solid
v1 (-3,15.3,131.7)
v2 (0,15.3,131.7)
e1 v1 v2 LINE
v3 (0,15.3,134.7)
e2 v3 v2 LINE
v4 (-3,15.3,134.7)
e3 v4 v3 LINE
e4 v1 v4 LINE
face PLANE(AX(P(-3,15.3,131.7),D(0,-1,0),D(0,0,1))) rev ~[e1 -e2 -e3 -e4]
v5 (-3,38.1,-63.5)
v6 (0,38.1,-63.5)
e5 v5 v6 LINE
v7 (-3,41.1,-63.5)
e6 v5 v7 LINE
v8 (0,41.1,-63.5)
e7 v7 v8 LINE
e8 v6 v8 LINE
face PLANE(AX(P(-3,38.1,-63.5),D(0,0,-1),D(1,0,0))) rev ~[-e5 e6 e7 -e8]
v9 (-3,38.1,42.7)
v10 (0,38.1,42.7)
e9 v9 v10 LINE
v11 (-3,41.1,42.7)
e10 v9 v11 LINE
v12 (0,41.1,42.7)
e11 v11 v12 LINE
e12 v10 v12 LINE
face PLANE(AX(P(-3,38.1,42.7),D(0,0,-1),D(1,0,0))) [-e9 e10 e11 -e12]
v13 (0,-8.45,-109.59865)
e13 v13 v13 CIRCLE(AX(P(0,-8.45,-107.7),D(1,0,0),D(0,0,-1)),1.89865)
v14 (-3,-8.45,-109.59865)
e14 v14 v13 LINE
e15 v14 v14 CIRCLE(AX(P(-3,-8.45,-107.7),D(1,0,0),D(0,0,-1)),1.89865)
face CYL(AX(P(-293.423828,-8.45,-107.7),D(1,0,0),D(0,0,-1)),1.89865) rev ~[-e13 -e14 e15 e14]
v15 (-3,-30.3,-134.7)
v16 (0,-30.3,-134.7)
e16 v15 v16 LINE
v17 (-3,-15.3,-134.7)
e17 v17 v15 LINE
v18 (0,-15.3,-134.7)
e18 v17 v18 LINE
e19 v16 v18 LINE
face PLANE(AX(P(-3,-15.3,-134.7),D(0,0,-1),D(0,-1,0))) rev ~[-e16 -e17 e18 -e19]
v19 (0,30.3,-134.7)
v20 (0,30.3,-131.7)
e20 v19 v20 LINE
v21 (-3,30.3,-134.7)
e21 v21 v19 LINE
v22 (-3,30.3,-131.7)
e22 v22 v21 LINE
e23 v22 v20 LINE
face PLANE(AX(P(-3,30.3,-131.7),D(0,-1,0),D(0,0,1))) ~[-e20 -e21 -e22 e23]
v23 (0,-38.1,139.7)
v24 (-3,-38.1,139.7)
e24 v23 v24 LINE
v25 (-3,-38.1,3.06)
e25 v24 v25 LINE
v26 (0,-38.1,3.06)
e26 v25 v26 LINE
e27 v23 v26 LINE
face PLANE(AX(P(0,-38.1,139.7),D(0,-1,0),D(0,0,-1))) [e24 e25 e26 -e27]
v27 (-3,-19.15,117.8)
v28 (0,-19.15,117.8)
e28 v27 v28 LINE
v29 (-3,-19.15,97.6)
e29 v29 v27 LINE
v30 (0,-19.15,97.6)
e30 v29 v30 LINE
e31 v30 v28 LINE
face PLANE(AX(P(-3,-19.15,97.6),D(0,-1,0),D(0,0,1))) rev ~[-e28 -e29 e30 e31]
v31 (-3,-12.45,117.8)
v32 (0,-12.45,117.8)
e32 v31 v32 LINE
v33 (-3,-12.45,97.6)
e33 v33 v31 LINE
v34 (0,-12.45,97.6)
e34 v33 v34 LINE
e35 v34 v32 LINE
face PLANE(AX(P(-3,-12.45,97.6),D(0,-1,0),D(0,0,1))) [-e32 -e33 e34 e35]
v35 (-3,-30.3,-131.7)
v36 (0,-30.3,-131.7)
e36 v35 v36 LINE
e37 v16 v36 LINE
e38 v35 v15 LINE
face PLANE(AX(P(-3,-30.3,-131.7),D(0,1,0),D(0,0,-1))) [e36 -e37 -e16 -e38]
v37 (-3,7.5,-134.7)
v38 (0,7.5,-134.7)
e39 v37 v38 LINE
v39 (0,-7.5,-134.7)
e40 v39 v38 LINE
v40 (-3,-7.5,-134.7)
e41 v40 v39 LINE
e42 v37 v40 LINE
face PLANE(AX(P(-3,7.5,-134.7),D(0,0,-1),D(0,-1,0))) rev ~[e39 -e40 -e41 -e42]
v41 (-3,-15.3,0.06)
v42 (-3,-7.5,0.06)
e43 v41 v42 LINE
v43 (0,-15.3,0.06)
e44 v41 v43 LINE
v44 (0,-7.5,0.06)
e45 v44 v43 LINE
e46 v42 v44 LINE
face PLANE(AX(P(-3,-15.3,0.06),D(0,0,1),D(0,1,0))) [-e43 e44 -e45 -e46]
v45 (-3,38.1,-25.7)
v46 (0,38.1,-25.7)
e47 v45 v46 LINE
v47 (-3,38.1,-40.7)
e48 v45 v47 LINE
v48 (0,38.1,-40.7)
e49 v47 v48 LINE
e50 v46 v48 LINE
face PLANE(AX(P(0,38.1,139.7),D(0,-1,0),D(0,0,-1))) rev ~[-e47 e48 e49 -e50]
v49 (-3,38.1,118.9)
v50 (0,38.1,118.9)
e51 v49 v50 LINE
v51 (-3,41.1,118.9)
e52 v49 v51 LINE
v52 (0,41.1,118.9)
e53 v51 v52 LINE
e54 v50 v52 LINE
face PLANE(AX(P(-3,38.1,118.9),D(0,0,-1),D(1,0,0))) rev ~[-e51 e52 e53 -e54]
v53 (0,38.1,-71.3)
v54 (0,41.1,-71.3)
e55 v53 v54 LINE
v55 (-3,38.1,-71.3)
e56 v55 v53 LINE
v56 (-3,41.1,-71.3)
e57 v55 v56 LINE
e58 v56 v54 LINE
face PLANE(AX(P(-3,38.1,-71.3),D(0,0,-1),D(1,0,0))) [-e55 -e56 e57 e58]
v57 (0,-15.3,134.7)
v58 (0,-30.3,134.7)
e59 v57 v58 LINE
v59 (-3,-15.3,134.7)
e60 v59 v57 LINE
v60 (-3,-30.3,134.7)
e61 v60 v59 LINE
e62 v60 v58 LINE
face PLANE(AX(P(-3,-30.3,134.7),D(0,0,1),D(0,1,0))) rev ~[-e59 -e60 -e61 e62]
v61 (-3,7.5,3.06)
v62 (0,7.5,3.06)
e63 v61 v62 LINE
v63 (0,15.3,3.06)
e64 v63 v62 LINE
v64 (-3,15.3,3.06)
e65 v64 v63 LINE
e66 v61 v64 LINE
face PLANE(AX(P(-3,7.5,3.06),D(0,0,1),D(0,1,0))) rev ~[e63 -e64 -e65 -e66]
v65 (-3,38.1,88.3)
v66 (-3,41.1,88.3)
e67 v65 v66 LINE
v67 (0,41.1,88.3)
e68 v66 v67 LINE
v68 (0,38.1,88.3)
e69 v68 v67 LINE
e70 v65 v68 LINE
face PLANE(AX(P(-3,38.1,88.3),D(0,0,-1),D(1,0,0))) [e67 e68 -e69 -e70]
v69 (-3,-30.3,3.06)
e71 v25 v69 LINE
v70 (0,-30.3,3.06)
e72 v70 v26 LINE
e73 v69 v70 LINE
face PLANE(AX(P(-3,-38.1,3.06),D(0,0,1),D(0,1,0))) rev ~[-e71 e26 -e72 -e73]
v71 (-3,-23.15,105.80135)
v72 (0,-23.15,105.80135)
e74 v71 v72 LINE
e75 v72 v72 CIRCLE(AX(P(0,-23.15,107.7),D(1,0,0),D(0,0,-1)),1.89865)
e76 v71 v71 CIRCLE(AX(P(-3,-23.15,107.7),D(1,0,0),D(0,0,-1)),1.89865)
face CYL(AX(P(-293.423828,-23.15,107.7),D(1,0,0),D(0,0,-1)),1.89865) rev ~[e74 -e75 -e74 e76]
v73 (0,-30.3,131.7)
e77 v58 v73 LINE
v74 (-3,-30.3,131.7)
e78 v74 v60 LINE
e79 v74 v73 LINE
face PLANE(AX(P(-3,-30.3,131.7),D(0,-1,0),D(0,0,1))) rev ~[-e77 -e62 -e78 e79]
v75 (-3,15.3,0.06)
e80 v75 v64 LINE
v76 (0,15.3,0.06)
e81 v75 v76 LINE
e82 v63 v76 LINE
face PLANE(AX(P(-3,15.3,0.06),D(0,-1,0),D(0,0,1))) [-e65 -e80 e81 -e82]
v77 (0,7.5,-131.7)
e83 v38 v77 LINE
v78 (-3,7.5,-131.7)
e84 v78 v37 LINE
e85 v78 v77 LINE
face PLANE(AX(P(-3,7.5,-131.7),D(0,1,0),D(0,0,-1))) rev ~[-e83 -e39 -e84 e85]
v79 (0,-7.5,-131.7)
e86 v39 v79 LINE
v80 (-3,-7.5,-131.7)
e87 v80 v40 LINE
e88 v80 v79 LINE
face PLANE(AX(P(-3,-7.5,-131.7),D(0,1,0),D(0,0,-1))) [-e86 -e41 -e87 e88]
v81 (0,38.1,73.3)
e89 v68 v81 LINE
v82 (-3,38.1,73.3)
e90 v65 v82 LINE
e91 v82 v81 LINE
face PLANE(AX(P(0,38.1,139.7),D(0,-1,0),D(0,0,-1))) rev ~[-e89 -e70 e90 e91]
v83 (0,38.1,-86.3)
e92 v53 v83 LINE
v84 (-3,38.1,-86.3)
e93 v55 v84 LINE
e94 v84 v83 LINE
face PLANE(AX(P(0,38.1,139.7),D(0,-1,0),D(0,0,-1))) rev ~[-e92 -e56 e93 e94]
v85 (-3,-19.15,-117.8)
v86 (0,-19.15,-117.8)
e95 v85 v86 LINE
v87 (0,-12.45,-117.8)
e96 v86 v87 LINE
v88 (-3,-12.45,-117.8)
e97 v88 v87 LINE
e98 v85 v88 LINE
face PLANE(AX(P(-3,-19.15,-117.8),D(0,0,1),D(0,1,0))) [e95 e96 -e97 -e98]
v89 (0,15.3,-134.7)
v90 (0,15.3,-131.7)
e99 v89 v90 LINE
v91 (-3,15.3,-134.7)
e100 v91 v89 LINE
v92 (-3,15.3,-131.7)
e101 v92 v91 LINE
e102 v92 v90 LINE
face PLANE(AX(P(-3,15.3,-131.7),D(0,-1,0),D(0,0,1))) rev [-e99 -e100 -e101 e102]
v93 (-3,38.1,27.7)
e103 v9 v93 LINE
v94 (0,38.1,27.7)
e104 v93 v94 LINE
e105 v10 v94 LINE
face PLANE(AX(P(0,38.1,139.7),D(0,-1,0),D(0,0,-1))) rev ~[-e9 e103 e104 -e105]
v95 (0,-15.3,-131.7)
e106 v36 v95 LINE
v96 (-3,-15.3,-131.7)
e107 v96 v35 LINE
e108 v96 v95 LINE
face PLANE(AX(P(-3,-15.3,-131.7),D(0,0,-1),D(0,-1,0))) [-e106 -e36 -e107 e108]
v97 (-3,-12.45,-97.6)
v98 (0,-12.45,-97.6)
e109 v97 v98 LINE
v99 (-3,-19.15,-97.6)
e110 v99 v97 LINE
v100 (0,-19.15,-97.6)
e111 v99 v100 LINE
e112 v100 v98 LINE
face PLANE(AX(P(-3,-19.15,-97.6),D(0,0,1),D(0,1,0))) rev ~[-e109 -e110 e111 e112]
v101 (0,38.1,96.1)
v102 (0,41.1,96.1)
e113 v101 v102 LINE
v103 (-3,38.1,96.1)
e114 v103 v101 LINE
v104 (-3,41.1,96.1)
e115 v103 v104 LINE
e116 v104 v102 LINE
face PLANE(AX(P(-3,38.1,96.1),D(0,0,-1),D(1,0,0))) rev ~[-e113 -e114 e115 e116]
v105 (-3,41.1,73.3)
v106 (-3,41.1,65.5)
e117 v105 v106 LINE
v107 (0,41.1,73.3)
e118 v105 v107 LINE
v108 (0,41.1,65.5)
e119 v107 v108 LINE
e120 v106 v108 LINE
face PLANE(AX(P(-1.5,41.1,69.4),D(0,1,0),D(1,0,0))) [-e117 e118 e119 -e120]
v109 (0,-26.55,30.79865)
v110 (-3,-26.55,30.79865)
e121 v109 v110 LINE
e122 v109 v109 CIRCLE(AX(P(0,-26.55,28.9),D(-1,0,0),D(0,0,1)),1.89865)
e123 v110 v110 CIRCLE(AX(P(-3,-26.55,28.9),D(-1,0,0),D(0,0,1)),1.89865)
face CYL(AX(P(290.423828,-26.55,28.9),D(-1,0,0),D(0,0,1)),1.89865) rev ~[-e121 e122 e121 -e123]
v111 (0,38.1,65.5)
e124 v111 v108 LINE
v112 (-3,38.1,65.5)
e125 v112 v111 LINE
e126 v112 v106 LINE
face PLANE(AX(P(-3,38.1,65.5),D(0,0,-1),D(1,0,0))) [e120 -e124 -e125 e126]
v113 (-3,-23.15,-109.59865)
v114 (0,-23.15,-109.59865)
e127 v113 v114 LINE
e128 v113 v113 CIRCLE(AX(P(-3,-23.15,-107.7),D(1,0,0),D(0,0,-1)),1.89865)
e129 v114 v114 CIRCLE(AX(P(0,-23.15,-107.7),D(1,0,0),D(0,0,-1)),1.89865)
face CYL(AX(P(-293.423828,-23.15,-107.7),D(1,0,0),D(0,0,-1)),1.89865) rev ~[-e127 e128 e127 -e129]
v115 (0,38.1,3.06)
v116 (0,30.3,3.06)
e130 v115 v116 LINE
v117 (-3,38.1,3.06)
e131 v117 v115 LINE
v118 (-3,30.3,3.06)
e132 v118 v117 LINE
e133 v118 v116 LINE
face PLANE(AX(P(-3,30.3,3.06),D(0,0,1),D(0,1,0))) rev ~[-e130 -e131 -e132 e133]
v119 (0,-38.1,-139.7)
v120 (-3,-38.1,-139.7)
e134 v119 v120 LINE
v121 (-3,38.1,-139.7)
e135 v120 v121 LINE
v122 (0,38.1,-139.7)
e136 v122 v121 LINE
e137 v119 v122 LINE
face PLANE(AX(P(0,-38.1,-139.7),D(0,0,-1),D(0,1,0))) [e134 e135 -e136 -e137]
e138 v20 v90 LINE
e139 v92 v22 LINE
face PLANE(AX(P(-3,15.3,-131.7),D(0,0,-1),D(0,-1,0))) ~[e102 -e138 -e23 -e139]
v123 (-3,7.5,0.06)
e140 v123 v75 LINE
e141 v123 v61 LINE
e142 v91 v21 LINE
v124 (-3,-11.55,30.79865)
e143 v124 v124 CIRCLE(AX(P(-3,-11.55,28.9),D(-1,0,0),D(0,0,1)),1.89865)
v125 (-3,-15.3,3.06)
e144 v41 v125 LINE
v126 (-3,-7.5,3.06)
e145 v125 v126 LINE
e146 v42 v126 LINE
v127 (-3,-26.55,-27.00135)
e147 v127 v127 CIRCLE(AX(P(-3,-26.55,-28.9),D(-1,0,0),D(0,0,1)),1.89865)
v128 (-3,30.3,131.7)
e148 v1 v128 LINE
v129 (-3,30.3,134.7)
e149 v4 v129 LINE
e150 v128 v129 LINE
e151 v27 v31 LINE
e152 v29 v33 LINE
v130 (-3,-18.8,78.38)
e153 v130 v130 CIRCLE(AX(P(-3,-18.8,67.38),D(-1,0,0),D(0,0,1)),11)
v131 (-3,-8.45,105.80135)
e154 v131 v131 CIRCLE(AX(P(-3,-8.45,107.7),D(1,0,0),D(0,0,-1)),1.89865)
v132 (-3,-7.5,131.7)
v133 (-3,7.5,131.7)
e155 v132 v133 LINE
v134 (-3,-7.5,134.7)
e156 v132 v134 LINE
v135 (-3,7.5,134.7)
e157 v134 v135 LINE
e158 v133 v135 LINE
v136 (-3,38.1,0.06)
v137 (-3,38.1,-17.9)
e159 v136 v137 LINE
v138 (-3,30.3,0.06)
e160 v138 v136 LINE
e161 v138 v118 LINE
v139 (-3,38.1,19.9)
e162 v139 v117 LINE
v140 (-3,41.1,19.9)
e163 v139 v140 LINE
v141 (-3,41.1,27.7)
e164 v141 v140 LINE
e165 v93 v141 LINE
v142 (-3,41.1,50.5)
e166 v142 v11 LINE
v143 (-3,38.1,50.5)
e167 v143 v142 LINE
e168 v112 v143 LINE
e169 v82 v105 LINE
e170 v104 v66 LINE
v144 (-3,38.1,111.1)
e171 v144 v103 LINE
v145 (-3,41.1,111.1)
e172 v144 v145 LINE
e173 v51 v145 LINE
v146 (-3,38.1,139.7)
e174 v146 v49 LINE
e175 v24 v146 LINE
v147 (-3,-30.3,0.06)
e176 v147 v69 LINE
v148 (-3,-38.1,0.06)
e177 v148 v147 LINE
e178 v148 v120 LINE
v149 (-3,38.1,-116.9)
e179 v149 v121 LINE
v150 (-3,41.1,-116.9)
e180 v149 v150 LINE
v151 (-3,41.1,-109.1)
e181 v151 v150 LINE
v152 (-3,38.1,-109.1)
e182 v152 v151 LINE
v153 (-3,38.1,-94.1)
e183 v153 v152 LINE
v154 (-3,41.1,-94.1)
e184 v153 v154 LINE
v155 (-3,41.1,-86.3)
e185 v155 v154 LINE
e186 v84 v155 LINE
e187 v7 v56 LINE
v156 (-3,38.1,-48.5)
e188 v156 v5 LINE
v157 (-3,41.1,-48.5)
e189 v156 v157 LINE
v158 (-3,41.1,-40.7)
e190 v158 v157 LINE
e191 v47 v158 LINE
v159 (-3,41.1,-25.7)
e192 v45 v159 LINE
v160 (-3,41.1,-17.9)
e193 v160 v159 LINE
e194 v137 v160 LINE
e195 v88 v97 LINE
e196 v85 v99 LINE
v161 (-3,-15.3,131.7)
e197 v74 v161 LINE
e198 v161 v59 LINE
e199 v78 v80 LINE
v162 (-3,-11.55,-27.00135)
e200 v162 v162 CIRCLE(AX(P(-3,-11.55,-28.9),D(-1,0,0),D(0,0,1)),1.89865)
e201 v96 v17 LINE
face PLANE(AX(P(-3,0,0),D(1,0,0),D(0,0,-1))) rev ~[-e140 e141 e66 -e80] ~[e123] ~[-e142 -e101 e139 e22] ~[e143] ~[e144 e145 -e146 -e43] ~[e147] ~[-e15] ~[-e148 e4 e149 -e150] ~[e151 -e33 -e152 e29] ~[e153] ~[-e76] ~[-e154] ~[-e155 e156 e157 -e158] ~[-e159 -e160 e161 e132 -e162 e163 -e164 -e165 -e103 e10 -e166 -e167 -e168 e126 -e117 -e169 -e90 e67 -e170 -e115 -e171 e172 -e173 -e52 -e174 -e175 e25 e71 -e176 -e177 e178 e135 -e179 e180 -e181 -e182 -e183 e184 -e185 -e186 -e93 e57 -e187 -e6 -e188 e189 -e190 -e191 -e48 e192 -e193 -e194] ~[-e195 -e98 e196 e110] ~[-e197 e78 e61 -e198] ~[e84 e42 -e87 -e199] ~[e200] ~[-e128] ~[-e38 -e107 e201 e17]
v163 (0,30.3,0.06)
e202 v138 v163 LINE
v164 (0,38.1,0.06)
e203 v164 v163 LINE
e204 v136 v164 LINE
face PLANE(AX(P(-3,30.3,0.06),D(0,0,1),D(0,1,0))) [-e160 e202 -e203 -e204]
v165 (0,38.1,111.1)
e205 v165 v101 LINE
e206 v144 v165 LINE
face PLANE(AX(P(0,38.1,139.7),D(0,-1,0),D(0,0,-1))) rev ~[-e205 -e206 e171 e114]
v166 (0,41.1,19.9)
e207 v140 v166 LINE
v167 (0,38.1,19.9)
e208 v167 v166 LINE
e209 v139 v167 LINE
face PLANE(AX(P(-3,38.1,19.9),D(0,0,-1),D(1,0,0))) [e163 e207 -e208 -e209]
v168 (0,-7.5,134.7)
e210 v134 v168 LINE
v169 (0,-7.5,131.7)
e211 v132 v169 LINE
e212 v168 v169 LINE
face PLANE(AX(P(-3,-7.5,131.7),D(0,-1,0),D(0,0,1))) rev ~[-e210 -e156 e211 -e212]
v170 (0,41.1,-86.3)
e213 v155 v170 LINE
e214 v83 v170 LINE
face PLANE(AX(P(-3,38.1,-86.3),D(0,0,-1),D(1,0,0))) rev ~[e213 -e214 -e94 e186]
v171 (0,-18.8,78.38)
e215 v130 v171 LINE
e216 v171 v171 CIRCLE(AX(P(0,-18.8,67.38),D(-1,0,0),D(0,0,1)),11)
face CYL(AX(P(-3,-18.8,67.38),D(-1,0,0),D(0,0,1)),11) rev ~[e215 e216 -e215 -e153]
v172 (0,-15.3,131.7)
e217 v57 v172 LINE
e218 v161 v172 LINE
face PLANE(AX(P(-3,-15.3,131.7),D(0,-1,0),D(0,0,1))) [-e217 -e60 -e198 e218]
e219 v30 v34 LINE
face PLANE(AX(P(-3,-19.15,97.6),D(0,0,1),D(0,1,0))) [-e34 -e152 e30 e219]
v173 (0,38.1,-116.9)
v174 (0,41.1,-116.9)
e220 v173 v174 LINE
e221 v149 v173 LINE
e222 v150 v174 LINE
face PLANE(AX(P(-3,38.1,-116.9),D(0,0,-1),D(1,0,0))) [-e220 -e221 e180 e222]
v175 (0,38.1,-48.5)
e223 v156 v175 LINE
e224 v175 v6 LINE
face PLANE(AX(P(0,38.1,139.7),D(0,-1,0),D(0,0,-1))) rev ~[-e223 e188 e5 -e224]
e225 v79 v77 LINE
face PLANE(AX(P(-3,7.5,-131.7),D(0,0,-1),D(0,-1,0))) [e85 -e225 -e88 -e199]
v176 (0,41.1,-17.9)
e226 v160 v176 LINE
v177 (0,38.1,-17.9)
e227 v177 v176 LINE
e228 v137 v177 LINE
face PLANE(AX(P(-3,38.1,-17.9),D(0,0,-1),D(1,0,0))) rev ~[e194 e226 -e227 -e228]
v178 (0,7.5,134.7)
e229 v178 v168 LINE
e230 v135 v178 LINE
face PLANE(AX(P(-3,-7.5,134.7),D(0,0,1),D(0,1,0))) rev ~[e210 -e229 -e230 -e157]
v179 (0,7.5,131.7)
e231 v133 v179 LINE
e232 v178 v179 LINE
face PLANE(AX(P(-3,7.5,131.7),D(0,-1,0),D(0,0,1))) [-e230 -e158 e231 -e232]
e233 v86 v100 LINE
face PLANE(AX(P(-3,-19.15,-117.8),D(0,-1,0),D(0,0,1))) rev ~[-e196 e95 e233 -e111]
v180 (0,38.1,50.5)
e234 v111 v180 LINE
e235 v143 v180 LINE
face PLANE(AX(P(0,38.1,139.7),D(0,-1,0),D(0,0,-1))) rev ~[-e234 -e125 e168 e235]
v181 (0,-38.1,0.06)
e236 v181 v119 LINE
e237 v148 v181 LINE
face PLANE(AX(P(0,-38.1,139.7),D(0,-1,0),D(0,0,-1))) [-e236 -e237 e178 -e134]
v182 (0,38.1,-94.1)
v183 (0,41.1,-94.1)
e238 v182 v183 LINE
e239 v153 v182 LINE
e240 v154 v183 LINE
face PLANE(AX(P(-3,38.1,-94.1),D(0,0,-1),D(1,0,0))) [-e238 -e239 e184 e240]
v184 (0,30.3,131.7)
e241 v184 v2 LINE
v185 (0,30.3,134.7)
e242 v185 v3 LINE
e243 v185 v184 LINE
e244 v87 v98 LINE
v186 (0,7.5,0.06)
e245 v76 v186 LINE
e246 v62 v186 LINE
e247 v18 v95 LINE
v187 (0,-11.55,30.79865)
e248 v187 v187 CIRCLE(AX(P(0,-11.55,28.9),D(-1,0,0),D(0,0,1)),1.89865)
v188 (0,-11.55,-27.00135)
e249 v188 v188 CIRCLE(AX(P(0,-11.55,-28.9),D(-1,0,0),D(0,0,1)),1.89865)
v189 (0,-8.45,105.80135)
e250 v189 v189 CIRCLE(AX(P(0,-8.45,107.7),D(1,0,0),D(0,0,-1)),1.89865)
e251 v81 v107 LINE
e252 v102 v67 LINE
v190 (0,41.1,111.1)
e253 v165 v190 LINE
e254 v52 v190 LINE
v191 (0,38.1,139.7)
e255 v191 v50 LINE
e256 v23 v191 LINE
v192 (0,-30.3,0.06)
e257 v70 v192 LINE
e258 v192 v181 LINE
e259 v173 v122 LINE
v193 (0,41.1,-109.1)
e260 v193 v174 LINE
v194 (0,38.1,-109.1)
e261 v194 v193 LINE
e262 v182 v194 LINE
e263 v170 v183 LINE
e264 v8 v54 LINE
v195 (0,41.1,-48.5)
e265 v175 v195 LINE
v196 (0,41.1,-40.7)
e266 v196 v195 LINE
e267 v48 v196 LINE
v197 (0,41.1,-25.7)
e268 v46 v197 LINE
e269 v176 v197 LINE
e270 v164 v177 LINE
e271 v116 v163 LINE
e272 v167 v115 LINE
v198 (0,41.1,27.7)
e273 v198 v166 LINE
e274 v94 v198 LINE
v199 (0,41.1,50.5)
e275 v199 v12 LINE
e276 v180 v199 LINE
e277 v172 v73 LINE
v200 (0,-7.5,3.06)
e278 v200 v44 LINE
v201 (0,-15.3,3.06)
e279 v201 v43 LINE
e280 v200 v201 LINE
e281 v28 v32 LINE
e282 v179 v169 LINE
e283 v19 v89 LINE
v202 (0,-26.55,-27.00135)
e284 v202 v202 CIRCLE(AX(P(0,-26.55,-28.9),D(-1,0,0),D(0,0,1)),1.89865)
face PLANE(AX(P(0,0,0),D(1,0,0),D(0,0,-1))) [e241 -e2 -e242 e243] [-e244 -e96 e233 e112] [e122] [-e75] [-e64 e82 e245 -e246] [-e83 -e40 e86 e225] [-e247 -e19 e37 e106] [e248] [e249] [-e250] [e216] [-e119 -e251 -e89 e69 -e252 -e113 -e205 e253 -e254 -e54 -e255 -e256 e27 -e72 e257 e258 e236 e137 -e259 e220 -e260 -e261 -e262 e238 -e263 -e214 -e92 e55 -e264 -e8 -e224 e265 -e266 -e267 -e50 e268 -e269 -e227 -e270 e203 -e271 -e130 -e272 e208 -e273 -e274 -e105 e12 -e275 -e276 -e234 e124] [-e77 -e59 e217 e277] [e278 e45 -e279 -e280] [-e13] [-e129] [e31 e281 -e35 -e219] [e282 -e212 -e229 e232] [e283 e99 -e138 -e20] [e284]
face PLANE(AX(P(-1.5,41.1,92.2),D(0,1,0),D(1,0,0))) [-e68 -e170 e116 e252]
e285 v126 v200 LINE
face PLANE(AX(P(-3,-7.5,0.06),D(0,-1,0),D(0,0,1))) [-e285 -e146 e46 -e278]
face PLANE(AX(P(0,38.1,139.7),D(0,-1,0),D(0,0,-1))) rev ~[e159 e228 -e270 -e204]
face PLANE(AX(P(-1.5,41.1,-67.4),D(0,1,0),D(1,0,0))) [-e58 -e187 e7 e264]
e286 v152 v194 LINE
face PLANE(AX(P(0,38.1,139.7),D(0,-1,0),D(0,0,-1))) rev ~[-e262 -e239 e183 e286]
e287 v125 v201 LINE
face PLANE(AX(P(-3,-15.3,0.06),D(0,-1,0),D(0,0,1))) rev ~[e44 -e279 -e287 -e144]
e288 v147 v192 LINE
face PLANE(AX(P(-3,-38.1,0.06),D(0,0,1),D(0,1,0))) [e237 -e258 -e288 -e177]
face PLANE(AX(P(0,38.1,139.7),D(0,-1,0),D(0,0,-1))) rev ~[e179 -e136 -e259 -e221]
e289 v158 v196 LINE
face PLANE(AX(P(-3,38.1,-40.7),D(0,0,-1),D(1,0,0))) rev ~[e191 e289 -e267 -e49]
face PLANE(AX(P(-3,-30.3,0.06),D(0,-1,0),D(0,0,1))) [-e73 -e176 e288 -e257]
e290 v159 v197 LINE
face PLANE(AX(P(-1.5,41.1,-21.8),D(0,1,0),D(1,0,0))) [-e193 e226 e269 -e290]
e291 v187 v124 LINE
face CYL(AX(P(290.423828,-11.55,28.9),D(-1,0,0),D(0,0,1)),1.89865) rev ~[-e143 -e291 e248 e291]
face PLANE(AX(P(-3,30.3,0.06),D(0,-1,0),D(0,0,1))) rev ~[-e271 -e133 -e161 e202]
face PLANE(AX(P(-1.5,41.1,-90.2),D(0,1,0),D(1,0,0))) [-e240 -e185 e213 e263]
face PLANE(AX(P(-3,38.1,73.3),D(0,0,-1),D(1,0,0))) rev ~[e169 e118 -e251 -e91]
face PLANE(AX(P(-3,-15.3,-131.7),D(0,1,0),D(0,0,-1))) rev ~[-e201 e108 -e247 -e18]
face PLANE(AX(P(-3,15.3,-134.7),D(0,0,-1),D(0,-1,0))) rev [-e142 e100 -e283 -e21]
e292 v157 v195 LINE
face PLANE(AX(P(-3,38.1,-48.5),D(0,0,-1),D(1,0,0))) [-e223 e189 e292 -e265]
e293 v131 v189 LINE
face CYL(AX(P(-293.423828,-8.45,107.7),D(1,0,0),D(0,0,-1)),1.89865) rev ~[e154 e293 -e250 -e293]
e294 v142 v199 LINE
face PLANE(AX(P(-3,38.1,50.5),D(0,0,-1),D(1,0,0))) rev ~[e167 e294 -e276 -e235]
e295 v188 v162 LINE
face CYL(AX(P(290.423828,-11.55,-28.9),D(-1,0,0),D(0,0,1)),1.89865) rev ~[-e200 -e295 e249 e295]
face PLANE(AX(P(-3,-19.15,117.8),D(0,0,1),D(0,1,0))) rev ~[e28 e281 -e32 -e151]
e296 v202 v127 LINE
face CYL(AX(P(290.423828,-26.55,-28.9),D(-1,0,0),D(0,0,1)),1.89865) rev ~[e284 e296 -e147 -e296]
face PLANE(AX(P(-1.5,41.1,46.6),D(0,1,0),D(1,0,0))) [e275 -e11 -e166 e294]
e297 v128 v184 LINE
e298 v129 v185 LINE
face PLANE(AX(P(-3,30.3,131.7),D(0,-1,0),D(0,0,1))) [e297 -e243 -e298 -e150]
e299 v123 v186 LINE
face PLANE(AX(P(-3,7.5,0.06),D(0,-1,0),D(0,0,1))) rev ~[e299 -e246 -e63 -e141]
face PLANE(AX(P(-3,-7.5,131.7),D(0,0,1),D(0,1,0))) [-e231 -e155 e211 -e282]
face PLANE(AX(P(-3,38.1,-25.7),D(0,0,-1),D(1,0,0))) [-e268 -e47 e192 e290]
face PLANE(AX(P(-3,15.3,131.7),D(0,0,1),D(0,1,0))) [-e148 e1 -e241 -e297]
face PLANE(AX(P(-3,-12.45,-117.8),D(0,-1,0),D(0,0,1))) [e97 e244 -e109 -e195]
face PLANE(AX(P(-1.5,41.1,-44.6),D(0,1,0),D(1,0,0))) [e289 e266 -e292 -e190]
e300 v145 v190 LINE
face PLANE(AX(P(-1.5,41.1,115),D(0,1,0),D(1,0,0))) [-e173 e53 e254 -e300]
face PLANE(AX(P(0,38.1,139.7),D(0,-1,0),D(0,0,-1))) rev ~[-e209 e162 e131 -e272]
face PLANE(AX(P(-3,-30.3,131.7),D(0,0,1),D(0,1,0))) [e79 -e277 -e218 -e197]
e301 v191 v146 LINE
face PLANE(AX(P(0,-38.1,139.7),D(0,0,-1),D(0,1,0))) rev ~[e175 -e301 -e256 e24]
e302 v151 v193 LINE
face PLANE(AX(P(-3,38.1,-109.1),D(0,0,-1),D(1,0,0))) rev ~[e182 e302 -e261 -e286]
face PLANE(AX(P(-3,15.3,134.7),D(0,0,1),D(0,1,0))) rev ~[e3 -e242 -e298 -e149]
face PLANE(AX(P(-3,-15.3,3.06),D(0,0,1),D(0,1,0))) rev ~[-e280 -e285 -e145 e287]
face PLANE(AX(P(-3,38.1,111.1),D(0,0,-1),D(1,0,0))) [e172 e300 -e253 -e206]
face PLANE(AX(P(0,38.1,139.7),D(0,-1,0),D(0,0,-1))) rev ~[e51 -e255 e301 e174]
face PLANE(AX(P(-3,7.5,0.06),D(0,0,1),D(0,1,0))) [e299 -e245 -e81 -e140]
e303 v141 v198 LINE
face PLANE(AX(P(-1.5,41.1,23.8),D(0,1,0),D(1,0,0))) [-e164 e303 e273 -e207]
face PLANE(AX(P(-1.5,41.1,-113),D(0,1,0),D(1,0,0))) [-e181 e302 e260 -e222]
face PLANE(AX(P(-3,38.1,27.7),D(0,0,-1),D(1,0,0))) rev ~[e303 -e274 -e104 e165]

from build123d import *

# Parameters (mm, degrees)
SKETCH1_W               = 279.4
SKETCH1_H               = 76.2
BOSS_EXTRUDE1_DEPTH     = 3
SKETCH3_W               = 3
SKETCH3_H               = 15
CUT_EXTRUDE1_DEPTH      = 145.833352512
LPATTERN1_COUNT         = 3
LPATTERN1_PITCH         = 22.8
MIRROR1_COPY_1_SKETCH_W = 3
MIRROR1_COPY_1_SKETCH_H = 15
MIRROR1_COPY_1_DEPTH    = 145.833352512
MIRROR1_COPY_2_SKETCH_W = 3
MIRROR1_COPY_2_SKETCH_H = 15
MIRROR1_COPY_2_DEPTH    = 145.833352512
SKETCH6_W               = 3
SKETCH6_H               = 7.8
CUT_EXTRUDE2_DEPTH      = 145.833352512
LPATTERN2_COUNT         = 4
LPATTERN2_PITCH         = 22.8
SKETCH8_W               = 3
SKETCH8_H               = 7.8
BOSS_EXTRUDE2_DEPTH     = 3
LPATTERN4_COUNT         = 11
LPATTERN4_PITCH         = 22.8
SKETCH9_R               = 11
CUT_EXTRUDE3_DEPTH      = 146.651295909
F_6_CLEARANCE_HOLE1_D   = 3.7973
CUT_EXTRUDE4_REACH      = 147.651
SKETCH12_W              = 20.2
SKETCH12_H              = 6.7
F_6_CLEARANCE_HOLE2_D   = 3.7973


with BuildPart() as part:
    # Sketch1 → Boss-Extrude1 (new body)
    with BuildSketch(Plane(origin=(0, 0, 0), x_dir=(0, 0, -1), z_dir=(1, 0, 0))):
        Rectangle(SKETCH1_W, SKETCH1_H)
    extrude(amount=-BOSS_EXTRUDE1_DEPTH)

    # Sketch3 → Cut-Extrude1 (cut, through all)
    with BuildSketch(Plane.ZY.offset(3)):
        with Locations((133.2, 22.8)):
            Rectangle(SKETCH3_W, SKETCH3_H)
    cut_extrude1 = extrude(amount=-CUT_EXTRUDE1_DEPTH, mode=Mode.SUBTRACT)

    # LPattern1: Cut-Extrude1 ×3
    with Locations(*[(0, -i * LPATTERN1_PITCH, 0) for i in range(1, LPATTERN1_COUNT)]):
        add(cut_extrude1, mode=Mode.SUBTRACT)

    # Mirror1: Cut-Extrude1 across plane
    add(cut_extrude1.mirror(Plane.XY), mode=Mode.SUBTRACT)

    # Mirror1 copy 1 sketch → Mirror1 copy 1 (cut, through all)
    with BuildSketch(Plane(origin=(-3, -22.8, 0), x_dir=(0, 0, -1), z_dir=(-1, 0, 0))):
        with Locations((133.2, -22.8)):
            Rectangle(MIRROR1_COPY_1_SKETCH_W, MIRROR1_COPY_1_SKETCH_H)
    extrude(amount=-MIRROR1_COPY_1_DEPTH, mode=Mode.SUBTRACT)

    # Mirror1 copy 2 sketch → Mirror1 copy 2 (cut, through all)
    with BuildSketch(Plane(origin=(-3, -45.6, 0), x_dir=(0, 0, -1), z_dir=(-1, 0, 0))):
        with Locations((133.2, -22.8)):
            Rectangle(MIRROR1_COPY_2_SKETCH_W, MIRROR1_COPY_2_SKETCH_H)
    extrude(amount=-MIRROR1_COPY_2_DEPTH, mode=Mode.SUBTRACT)

    # Sketch6 → Cut-Extrude2 (cut, through all)
    with BuildSketch(Plane.ZY.offset(3)):
        with Locations((1.56, 34.2)):
            Rectangle(SKETCH6_W, SKETCH6_H)
    cut_extrude2 = extrude(amount=-CUT_EXTRUDE2_DEPTH, mode=Mode.SUBTRACT)

    # LPattern2: Cut-Extrude2 ×4
    with Locations(*[(0, -i * LPATTERN2_PITCH, 0) for i in range(1, LPATTERN2_COUNT)]):
        add(cut_extrude2, mode=Mode.SUBTRACT)

    # Sketch8 → Boss-Extrude2 (add)
    with BuildSketch(Plane(origin=(0, 38.1, 0), x_dir=(1, 0, 0), z_dir=(0, 1, 0))):
        with Locations((-1.5, 113)):
            Rectangle(SKETCH8_W, SKETCH8_H)
    boss_extrude2 = extrude(amount=BOSS_EXTRUDE2_DEPTH)

    # LPattern4: Boss-Extrude2 ×11, 1 skipped
    with Locations(*[(0, 0, i * LPATTERN4_PITCH) for i in range(1, LPATTERN4_COUNT) if i not in (5,)]):
        add(boss_extrude2)

    # Sketch9 → Cut-Extrude3 (cut, through all)
    with BuildSketch(Plane.ZY.offset(3)):
        with Locations((67.38, -18.8)):
            Circle(SKETCH9_R)
    extrude(amount=-CUT_EXTRUDE3_DEPTH, mode=Mode.SUBTRACT)

    # #6 Clearance Hole1 (through all)
    with Locations(Plane(origin=(0, 0, 0), x_dir=(0, 0, -1), z_dir=(1, 0, 0))):
        with Locations((28.9, -26.55), (28.9, -11.55), (-28.9, -11.55), (-28.9, -26.55)):
            Hole(F_6_CLEARANCE_HOLE1_D / 2)

    # Sketch12 → Cut-Extrude4 (cut, up to next)
    with BuildSketch(Plane.ZY.offset(3), mode=Mode.PRIVATE) as cut_extrude4_sk1:
        with Locations((-107.7, -15.8)):
            Rectangle(SKETCH12_W, SKETCH12_H)
    cut_extrude4_tool1 = extrude(cut_extrude4_sk1.sketch, amount=-CUT_EXTRUDE4_REACH, mode=Mode.PRIVATE) & part.part
    # Sketch12 → Cut-Extrude4 (cut, up to next)
    with BuildSketch(Plane.ZY.offset(3), mode=Mode.PRIVATE) as cut_extrude4_sk2:
        with Locations((107.7, -15.8)):
            Rectangle(SKETCH12_W, SKETCH12_H)
    cut_extrude4_tool2 = extrude(cut_extrude4_sk2.sketch, amount=-CUT_EXTRUDE4_REACH, mode=Mode.PRIVATE) & part.part
    add(cut_extrude4_tool1.solids().sort_by_distance((-3, -15.8, -107.7))[0], mode=Mode.SUBTRACT)
    add(cut_extrude4_tool2.solids().sort_by_distance((-3, -15.8, 107.7))[0], mode=Mode.SUBTRACT)

    # #6 Clearance Hole2 (through all)
    with Locations(Plane.ZY.offset(3)):
        with Locations((-107.7, -23.15), (-107.7, -8.45), (107.7, -23.15), (107.7, -8.45)):
            Hole(F_6_CLEARANCE_HOLE2_D / 2)


solid = part.part
